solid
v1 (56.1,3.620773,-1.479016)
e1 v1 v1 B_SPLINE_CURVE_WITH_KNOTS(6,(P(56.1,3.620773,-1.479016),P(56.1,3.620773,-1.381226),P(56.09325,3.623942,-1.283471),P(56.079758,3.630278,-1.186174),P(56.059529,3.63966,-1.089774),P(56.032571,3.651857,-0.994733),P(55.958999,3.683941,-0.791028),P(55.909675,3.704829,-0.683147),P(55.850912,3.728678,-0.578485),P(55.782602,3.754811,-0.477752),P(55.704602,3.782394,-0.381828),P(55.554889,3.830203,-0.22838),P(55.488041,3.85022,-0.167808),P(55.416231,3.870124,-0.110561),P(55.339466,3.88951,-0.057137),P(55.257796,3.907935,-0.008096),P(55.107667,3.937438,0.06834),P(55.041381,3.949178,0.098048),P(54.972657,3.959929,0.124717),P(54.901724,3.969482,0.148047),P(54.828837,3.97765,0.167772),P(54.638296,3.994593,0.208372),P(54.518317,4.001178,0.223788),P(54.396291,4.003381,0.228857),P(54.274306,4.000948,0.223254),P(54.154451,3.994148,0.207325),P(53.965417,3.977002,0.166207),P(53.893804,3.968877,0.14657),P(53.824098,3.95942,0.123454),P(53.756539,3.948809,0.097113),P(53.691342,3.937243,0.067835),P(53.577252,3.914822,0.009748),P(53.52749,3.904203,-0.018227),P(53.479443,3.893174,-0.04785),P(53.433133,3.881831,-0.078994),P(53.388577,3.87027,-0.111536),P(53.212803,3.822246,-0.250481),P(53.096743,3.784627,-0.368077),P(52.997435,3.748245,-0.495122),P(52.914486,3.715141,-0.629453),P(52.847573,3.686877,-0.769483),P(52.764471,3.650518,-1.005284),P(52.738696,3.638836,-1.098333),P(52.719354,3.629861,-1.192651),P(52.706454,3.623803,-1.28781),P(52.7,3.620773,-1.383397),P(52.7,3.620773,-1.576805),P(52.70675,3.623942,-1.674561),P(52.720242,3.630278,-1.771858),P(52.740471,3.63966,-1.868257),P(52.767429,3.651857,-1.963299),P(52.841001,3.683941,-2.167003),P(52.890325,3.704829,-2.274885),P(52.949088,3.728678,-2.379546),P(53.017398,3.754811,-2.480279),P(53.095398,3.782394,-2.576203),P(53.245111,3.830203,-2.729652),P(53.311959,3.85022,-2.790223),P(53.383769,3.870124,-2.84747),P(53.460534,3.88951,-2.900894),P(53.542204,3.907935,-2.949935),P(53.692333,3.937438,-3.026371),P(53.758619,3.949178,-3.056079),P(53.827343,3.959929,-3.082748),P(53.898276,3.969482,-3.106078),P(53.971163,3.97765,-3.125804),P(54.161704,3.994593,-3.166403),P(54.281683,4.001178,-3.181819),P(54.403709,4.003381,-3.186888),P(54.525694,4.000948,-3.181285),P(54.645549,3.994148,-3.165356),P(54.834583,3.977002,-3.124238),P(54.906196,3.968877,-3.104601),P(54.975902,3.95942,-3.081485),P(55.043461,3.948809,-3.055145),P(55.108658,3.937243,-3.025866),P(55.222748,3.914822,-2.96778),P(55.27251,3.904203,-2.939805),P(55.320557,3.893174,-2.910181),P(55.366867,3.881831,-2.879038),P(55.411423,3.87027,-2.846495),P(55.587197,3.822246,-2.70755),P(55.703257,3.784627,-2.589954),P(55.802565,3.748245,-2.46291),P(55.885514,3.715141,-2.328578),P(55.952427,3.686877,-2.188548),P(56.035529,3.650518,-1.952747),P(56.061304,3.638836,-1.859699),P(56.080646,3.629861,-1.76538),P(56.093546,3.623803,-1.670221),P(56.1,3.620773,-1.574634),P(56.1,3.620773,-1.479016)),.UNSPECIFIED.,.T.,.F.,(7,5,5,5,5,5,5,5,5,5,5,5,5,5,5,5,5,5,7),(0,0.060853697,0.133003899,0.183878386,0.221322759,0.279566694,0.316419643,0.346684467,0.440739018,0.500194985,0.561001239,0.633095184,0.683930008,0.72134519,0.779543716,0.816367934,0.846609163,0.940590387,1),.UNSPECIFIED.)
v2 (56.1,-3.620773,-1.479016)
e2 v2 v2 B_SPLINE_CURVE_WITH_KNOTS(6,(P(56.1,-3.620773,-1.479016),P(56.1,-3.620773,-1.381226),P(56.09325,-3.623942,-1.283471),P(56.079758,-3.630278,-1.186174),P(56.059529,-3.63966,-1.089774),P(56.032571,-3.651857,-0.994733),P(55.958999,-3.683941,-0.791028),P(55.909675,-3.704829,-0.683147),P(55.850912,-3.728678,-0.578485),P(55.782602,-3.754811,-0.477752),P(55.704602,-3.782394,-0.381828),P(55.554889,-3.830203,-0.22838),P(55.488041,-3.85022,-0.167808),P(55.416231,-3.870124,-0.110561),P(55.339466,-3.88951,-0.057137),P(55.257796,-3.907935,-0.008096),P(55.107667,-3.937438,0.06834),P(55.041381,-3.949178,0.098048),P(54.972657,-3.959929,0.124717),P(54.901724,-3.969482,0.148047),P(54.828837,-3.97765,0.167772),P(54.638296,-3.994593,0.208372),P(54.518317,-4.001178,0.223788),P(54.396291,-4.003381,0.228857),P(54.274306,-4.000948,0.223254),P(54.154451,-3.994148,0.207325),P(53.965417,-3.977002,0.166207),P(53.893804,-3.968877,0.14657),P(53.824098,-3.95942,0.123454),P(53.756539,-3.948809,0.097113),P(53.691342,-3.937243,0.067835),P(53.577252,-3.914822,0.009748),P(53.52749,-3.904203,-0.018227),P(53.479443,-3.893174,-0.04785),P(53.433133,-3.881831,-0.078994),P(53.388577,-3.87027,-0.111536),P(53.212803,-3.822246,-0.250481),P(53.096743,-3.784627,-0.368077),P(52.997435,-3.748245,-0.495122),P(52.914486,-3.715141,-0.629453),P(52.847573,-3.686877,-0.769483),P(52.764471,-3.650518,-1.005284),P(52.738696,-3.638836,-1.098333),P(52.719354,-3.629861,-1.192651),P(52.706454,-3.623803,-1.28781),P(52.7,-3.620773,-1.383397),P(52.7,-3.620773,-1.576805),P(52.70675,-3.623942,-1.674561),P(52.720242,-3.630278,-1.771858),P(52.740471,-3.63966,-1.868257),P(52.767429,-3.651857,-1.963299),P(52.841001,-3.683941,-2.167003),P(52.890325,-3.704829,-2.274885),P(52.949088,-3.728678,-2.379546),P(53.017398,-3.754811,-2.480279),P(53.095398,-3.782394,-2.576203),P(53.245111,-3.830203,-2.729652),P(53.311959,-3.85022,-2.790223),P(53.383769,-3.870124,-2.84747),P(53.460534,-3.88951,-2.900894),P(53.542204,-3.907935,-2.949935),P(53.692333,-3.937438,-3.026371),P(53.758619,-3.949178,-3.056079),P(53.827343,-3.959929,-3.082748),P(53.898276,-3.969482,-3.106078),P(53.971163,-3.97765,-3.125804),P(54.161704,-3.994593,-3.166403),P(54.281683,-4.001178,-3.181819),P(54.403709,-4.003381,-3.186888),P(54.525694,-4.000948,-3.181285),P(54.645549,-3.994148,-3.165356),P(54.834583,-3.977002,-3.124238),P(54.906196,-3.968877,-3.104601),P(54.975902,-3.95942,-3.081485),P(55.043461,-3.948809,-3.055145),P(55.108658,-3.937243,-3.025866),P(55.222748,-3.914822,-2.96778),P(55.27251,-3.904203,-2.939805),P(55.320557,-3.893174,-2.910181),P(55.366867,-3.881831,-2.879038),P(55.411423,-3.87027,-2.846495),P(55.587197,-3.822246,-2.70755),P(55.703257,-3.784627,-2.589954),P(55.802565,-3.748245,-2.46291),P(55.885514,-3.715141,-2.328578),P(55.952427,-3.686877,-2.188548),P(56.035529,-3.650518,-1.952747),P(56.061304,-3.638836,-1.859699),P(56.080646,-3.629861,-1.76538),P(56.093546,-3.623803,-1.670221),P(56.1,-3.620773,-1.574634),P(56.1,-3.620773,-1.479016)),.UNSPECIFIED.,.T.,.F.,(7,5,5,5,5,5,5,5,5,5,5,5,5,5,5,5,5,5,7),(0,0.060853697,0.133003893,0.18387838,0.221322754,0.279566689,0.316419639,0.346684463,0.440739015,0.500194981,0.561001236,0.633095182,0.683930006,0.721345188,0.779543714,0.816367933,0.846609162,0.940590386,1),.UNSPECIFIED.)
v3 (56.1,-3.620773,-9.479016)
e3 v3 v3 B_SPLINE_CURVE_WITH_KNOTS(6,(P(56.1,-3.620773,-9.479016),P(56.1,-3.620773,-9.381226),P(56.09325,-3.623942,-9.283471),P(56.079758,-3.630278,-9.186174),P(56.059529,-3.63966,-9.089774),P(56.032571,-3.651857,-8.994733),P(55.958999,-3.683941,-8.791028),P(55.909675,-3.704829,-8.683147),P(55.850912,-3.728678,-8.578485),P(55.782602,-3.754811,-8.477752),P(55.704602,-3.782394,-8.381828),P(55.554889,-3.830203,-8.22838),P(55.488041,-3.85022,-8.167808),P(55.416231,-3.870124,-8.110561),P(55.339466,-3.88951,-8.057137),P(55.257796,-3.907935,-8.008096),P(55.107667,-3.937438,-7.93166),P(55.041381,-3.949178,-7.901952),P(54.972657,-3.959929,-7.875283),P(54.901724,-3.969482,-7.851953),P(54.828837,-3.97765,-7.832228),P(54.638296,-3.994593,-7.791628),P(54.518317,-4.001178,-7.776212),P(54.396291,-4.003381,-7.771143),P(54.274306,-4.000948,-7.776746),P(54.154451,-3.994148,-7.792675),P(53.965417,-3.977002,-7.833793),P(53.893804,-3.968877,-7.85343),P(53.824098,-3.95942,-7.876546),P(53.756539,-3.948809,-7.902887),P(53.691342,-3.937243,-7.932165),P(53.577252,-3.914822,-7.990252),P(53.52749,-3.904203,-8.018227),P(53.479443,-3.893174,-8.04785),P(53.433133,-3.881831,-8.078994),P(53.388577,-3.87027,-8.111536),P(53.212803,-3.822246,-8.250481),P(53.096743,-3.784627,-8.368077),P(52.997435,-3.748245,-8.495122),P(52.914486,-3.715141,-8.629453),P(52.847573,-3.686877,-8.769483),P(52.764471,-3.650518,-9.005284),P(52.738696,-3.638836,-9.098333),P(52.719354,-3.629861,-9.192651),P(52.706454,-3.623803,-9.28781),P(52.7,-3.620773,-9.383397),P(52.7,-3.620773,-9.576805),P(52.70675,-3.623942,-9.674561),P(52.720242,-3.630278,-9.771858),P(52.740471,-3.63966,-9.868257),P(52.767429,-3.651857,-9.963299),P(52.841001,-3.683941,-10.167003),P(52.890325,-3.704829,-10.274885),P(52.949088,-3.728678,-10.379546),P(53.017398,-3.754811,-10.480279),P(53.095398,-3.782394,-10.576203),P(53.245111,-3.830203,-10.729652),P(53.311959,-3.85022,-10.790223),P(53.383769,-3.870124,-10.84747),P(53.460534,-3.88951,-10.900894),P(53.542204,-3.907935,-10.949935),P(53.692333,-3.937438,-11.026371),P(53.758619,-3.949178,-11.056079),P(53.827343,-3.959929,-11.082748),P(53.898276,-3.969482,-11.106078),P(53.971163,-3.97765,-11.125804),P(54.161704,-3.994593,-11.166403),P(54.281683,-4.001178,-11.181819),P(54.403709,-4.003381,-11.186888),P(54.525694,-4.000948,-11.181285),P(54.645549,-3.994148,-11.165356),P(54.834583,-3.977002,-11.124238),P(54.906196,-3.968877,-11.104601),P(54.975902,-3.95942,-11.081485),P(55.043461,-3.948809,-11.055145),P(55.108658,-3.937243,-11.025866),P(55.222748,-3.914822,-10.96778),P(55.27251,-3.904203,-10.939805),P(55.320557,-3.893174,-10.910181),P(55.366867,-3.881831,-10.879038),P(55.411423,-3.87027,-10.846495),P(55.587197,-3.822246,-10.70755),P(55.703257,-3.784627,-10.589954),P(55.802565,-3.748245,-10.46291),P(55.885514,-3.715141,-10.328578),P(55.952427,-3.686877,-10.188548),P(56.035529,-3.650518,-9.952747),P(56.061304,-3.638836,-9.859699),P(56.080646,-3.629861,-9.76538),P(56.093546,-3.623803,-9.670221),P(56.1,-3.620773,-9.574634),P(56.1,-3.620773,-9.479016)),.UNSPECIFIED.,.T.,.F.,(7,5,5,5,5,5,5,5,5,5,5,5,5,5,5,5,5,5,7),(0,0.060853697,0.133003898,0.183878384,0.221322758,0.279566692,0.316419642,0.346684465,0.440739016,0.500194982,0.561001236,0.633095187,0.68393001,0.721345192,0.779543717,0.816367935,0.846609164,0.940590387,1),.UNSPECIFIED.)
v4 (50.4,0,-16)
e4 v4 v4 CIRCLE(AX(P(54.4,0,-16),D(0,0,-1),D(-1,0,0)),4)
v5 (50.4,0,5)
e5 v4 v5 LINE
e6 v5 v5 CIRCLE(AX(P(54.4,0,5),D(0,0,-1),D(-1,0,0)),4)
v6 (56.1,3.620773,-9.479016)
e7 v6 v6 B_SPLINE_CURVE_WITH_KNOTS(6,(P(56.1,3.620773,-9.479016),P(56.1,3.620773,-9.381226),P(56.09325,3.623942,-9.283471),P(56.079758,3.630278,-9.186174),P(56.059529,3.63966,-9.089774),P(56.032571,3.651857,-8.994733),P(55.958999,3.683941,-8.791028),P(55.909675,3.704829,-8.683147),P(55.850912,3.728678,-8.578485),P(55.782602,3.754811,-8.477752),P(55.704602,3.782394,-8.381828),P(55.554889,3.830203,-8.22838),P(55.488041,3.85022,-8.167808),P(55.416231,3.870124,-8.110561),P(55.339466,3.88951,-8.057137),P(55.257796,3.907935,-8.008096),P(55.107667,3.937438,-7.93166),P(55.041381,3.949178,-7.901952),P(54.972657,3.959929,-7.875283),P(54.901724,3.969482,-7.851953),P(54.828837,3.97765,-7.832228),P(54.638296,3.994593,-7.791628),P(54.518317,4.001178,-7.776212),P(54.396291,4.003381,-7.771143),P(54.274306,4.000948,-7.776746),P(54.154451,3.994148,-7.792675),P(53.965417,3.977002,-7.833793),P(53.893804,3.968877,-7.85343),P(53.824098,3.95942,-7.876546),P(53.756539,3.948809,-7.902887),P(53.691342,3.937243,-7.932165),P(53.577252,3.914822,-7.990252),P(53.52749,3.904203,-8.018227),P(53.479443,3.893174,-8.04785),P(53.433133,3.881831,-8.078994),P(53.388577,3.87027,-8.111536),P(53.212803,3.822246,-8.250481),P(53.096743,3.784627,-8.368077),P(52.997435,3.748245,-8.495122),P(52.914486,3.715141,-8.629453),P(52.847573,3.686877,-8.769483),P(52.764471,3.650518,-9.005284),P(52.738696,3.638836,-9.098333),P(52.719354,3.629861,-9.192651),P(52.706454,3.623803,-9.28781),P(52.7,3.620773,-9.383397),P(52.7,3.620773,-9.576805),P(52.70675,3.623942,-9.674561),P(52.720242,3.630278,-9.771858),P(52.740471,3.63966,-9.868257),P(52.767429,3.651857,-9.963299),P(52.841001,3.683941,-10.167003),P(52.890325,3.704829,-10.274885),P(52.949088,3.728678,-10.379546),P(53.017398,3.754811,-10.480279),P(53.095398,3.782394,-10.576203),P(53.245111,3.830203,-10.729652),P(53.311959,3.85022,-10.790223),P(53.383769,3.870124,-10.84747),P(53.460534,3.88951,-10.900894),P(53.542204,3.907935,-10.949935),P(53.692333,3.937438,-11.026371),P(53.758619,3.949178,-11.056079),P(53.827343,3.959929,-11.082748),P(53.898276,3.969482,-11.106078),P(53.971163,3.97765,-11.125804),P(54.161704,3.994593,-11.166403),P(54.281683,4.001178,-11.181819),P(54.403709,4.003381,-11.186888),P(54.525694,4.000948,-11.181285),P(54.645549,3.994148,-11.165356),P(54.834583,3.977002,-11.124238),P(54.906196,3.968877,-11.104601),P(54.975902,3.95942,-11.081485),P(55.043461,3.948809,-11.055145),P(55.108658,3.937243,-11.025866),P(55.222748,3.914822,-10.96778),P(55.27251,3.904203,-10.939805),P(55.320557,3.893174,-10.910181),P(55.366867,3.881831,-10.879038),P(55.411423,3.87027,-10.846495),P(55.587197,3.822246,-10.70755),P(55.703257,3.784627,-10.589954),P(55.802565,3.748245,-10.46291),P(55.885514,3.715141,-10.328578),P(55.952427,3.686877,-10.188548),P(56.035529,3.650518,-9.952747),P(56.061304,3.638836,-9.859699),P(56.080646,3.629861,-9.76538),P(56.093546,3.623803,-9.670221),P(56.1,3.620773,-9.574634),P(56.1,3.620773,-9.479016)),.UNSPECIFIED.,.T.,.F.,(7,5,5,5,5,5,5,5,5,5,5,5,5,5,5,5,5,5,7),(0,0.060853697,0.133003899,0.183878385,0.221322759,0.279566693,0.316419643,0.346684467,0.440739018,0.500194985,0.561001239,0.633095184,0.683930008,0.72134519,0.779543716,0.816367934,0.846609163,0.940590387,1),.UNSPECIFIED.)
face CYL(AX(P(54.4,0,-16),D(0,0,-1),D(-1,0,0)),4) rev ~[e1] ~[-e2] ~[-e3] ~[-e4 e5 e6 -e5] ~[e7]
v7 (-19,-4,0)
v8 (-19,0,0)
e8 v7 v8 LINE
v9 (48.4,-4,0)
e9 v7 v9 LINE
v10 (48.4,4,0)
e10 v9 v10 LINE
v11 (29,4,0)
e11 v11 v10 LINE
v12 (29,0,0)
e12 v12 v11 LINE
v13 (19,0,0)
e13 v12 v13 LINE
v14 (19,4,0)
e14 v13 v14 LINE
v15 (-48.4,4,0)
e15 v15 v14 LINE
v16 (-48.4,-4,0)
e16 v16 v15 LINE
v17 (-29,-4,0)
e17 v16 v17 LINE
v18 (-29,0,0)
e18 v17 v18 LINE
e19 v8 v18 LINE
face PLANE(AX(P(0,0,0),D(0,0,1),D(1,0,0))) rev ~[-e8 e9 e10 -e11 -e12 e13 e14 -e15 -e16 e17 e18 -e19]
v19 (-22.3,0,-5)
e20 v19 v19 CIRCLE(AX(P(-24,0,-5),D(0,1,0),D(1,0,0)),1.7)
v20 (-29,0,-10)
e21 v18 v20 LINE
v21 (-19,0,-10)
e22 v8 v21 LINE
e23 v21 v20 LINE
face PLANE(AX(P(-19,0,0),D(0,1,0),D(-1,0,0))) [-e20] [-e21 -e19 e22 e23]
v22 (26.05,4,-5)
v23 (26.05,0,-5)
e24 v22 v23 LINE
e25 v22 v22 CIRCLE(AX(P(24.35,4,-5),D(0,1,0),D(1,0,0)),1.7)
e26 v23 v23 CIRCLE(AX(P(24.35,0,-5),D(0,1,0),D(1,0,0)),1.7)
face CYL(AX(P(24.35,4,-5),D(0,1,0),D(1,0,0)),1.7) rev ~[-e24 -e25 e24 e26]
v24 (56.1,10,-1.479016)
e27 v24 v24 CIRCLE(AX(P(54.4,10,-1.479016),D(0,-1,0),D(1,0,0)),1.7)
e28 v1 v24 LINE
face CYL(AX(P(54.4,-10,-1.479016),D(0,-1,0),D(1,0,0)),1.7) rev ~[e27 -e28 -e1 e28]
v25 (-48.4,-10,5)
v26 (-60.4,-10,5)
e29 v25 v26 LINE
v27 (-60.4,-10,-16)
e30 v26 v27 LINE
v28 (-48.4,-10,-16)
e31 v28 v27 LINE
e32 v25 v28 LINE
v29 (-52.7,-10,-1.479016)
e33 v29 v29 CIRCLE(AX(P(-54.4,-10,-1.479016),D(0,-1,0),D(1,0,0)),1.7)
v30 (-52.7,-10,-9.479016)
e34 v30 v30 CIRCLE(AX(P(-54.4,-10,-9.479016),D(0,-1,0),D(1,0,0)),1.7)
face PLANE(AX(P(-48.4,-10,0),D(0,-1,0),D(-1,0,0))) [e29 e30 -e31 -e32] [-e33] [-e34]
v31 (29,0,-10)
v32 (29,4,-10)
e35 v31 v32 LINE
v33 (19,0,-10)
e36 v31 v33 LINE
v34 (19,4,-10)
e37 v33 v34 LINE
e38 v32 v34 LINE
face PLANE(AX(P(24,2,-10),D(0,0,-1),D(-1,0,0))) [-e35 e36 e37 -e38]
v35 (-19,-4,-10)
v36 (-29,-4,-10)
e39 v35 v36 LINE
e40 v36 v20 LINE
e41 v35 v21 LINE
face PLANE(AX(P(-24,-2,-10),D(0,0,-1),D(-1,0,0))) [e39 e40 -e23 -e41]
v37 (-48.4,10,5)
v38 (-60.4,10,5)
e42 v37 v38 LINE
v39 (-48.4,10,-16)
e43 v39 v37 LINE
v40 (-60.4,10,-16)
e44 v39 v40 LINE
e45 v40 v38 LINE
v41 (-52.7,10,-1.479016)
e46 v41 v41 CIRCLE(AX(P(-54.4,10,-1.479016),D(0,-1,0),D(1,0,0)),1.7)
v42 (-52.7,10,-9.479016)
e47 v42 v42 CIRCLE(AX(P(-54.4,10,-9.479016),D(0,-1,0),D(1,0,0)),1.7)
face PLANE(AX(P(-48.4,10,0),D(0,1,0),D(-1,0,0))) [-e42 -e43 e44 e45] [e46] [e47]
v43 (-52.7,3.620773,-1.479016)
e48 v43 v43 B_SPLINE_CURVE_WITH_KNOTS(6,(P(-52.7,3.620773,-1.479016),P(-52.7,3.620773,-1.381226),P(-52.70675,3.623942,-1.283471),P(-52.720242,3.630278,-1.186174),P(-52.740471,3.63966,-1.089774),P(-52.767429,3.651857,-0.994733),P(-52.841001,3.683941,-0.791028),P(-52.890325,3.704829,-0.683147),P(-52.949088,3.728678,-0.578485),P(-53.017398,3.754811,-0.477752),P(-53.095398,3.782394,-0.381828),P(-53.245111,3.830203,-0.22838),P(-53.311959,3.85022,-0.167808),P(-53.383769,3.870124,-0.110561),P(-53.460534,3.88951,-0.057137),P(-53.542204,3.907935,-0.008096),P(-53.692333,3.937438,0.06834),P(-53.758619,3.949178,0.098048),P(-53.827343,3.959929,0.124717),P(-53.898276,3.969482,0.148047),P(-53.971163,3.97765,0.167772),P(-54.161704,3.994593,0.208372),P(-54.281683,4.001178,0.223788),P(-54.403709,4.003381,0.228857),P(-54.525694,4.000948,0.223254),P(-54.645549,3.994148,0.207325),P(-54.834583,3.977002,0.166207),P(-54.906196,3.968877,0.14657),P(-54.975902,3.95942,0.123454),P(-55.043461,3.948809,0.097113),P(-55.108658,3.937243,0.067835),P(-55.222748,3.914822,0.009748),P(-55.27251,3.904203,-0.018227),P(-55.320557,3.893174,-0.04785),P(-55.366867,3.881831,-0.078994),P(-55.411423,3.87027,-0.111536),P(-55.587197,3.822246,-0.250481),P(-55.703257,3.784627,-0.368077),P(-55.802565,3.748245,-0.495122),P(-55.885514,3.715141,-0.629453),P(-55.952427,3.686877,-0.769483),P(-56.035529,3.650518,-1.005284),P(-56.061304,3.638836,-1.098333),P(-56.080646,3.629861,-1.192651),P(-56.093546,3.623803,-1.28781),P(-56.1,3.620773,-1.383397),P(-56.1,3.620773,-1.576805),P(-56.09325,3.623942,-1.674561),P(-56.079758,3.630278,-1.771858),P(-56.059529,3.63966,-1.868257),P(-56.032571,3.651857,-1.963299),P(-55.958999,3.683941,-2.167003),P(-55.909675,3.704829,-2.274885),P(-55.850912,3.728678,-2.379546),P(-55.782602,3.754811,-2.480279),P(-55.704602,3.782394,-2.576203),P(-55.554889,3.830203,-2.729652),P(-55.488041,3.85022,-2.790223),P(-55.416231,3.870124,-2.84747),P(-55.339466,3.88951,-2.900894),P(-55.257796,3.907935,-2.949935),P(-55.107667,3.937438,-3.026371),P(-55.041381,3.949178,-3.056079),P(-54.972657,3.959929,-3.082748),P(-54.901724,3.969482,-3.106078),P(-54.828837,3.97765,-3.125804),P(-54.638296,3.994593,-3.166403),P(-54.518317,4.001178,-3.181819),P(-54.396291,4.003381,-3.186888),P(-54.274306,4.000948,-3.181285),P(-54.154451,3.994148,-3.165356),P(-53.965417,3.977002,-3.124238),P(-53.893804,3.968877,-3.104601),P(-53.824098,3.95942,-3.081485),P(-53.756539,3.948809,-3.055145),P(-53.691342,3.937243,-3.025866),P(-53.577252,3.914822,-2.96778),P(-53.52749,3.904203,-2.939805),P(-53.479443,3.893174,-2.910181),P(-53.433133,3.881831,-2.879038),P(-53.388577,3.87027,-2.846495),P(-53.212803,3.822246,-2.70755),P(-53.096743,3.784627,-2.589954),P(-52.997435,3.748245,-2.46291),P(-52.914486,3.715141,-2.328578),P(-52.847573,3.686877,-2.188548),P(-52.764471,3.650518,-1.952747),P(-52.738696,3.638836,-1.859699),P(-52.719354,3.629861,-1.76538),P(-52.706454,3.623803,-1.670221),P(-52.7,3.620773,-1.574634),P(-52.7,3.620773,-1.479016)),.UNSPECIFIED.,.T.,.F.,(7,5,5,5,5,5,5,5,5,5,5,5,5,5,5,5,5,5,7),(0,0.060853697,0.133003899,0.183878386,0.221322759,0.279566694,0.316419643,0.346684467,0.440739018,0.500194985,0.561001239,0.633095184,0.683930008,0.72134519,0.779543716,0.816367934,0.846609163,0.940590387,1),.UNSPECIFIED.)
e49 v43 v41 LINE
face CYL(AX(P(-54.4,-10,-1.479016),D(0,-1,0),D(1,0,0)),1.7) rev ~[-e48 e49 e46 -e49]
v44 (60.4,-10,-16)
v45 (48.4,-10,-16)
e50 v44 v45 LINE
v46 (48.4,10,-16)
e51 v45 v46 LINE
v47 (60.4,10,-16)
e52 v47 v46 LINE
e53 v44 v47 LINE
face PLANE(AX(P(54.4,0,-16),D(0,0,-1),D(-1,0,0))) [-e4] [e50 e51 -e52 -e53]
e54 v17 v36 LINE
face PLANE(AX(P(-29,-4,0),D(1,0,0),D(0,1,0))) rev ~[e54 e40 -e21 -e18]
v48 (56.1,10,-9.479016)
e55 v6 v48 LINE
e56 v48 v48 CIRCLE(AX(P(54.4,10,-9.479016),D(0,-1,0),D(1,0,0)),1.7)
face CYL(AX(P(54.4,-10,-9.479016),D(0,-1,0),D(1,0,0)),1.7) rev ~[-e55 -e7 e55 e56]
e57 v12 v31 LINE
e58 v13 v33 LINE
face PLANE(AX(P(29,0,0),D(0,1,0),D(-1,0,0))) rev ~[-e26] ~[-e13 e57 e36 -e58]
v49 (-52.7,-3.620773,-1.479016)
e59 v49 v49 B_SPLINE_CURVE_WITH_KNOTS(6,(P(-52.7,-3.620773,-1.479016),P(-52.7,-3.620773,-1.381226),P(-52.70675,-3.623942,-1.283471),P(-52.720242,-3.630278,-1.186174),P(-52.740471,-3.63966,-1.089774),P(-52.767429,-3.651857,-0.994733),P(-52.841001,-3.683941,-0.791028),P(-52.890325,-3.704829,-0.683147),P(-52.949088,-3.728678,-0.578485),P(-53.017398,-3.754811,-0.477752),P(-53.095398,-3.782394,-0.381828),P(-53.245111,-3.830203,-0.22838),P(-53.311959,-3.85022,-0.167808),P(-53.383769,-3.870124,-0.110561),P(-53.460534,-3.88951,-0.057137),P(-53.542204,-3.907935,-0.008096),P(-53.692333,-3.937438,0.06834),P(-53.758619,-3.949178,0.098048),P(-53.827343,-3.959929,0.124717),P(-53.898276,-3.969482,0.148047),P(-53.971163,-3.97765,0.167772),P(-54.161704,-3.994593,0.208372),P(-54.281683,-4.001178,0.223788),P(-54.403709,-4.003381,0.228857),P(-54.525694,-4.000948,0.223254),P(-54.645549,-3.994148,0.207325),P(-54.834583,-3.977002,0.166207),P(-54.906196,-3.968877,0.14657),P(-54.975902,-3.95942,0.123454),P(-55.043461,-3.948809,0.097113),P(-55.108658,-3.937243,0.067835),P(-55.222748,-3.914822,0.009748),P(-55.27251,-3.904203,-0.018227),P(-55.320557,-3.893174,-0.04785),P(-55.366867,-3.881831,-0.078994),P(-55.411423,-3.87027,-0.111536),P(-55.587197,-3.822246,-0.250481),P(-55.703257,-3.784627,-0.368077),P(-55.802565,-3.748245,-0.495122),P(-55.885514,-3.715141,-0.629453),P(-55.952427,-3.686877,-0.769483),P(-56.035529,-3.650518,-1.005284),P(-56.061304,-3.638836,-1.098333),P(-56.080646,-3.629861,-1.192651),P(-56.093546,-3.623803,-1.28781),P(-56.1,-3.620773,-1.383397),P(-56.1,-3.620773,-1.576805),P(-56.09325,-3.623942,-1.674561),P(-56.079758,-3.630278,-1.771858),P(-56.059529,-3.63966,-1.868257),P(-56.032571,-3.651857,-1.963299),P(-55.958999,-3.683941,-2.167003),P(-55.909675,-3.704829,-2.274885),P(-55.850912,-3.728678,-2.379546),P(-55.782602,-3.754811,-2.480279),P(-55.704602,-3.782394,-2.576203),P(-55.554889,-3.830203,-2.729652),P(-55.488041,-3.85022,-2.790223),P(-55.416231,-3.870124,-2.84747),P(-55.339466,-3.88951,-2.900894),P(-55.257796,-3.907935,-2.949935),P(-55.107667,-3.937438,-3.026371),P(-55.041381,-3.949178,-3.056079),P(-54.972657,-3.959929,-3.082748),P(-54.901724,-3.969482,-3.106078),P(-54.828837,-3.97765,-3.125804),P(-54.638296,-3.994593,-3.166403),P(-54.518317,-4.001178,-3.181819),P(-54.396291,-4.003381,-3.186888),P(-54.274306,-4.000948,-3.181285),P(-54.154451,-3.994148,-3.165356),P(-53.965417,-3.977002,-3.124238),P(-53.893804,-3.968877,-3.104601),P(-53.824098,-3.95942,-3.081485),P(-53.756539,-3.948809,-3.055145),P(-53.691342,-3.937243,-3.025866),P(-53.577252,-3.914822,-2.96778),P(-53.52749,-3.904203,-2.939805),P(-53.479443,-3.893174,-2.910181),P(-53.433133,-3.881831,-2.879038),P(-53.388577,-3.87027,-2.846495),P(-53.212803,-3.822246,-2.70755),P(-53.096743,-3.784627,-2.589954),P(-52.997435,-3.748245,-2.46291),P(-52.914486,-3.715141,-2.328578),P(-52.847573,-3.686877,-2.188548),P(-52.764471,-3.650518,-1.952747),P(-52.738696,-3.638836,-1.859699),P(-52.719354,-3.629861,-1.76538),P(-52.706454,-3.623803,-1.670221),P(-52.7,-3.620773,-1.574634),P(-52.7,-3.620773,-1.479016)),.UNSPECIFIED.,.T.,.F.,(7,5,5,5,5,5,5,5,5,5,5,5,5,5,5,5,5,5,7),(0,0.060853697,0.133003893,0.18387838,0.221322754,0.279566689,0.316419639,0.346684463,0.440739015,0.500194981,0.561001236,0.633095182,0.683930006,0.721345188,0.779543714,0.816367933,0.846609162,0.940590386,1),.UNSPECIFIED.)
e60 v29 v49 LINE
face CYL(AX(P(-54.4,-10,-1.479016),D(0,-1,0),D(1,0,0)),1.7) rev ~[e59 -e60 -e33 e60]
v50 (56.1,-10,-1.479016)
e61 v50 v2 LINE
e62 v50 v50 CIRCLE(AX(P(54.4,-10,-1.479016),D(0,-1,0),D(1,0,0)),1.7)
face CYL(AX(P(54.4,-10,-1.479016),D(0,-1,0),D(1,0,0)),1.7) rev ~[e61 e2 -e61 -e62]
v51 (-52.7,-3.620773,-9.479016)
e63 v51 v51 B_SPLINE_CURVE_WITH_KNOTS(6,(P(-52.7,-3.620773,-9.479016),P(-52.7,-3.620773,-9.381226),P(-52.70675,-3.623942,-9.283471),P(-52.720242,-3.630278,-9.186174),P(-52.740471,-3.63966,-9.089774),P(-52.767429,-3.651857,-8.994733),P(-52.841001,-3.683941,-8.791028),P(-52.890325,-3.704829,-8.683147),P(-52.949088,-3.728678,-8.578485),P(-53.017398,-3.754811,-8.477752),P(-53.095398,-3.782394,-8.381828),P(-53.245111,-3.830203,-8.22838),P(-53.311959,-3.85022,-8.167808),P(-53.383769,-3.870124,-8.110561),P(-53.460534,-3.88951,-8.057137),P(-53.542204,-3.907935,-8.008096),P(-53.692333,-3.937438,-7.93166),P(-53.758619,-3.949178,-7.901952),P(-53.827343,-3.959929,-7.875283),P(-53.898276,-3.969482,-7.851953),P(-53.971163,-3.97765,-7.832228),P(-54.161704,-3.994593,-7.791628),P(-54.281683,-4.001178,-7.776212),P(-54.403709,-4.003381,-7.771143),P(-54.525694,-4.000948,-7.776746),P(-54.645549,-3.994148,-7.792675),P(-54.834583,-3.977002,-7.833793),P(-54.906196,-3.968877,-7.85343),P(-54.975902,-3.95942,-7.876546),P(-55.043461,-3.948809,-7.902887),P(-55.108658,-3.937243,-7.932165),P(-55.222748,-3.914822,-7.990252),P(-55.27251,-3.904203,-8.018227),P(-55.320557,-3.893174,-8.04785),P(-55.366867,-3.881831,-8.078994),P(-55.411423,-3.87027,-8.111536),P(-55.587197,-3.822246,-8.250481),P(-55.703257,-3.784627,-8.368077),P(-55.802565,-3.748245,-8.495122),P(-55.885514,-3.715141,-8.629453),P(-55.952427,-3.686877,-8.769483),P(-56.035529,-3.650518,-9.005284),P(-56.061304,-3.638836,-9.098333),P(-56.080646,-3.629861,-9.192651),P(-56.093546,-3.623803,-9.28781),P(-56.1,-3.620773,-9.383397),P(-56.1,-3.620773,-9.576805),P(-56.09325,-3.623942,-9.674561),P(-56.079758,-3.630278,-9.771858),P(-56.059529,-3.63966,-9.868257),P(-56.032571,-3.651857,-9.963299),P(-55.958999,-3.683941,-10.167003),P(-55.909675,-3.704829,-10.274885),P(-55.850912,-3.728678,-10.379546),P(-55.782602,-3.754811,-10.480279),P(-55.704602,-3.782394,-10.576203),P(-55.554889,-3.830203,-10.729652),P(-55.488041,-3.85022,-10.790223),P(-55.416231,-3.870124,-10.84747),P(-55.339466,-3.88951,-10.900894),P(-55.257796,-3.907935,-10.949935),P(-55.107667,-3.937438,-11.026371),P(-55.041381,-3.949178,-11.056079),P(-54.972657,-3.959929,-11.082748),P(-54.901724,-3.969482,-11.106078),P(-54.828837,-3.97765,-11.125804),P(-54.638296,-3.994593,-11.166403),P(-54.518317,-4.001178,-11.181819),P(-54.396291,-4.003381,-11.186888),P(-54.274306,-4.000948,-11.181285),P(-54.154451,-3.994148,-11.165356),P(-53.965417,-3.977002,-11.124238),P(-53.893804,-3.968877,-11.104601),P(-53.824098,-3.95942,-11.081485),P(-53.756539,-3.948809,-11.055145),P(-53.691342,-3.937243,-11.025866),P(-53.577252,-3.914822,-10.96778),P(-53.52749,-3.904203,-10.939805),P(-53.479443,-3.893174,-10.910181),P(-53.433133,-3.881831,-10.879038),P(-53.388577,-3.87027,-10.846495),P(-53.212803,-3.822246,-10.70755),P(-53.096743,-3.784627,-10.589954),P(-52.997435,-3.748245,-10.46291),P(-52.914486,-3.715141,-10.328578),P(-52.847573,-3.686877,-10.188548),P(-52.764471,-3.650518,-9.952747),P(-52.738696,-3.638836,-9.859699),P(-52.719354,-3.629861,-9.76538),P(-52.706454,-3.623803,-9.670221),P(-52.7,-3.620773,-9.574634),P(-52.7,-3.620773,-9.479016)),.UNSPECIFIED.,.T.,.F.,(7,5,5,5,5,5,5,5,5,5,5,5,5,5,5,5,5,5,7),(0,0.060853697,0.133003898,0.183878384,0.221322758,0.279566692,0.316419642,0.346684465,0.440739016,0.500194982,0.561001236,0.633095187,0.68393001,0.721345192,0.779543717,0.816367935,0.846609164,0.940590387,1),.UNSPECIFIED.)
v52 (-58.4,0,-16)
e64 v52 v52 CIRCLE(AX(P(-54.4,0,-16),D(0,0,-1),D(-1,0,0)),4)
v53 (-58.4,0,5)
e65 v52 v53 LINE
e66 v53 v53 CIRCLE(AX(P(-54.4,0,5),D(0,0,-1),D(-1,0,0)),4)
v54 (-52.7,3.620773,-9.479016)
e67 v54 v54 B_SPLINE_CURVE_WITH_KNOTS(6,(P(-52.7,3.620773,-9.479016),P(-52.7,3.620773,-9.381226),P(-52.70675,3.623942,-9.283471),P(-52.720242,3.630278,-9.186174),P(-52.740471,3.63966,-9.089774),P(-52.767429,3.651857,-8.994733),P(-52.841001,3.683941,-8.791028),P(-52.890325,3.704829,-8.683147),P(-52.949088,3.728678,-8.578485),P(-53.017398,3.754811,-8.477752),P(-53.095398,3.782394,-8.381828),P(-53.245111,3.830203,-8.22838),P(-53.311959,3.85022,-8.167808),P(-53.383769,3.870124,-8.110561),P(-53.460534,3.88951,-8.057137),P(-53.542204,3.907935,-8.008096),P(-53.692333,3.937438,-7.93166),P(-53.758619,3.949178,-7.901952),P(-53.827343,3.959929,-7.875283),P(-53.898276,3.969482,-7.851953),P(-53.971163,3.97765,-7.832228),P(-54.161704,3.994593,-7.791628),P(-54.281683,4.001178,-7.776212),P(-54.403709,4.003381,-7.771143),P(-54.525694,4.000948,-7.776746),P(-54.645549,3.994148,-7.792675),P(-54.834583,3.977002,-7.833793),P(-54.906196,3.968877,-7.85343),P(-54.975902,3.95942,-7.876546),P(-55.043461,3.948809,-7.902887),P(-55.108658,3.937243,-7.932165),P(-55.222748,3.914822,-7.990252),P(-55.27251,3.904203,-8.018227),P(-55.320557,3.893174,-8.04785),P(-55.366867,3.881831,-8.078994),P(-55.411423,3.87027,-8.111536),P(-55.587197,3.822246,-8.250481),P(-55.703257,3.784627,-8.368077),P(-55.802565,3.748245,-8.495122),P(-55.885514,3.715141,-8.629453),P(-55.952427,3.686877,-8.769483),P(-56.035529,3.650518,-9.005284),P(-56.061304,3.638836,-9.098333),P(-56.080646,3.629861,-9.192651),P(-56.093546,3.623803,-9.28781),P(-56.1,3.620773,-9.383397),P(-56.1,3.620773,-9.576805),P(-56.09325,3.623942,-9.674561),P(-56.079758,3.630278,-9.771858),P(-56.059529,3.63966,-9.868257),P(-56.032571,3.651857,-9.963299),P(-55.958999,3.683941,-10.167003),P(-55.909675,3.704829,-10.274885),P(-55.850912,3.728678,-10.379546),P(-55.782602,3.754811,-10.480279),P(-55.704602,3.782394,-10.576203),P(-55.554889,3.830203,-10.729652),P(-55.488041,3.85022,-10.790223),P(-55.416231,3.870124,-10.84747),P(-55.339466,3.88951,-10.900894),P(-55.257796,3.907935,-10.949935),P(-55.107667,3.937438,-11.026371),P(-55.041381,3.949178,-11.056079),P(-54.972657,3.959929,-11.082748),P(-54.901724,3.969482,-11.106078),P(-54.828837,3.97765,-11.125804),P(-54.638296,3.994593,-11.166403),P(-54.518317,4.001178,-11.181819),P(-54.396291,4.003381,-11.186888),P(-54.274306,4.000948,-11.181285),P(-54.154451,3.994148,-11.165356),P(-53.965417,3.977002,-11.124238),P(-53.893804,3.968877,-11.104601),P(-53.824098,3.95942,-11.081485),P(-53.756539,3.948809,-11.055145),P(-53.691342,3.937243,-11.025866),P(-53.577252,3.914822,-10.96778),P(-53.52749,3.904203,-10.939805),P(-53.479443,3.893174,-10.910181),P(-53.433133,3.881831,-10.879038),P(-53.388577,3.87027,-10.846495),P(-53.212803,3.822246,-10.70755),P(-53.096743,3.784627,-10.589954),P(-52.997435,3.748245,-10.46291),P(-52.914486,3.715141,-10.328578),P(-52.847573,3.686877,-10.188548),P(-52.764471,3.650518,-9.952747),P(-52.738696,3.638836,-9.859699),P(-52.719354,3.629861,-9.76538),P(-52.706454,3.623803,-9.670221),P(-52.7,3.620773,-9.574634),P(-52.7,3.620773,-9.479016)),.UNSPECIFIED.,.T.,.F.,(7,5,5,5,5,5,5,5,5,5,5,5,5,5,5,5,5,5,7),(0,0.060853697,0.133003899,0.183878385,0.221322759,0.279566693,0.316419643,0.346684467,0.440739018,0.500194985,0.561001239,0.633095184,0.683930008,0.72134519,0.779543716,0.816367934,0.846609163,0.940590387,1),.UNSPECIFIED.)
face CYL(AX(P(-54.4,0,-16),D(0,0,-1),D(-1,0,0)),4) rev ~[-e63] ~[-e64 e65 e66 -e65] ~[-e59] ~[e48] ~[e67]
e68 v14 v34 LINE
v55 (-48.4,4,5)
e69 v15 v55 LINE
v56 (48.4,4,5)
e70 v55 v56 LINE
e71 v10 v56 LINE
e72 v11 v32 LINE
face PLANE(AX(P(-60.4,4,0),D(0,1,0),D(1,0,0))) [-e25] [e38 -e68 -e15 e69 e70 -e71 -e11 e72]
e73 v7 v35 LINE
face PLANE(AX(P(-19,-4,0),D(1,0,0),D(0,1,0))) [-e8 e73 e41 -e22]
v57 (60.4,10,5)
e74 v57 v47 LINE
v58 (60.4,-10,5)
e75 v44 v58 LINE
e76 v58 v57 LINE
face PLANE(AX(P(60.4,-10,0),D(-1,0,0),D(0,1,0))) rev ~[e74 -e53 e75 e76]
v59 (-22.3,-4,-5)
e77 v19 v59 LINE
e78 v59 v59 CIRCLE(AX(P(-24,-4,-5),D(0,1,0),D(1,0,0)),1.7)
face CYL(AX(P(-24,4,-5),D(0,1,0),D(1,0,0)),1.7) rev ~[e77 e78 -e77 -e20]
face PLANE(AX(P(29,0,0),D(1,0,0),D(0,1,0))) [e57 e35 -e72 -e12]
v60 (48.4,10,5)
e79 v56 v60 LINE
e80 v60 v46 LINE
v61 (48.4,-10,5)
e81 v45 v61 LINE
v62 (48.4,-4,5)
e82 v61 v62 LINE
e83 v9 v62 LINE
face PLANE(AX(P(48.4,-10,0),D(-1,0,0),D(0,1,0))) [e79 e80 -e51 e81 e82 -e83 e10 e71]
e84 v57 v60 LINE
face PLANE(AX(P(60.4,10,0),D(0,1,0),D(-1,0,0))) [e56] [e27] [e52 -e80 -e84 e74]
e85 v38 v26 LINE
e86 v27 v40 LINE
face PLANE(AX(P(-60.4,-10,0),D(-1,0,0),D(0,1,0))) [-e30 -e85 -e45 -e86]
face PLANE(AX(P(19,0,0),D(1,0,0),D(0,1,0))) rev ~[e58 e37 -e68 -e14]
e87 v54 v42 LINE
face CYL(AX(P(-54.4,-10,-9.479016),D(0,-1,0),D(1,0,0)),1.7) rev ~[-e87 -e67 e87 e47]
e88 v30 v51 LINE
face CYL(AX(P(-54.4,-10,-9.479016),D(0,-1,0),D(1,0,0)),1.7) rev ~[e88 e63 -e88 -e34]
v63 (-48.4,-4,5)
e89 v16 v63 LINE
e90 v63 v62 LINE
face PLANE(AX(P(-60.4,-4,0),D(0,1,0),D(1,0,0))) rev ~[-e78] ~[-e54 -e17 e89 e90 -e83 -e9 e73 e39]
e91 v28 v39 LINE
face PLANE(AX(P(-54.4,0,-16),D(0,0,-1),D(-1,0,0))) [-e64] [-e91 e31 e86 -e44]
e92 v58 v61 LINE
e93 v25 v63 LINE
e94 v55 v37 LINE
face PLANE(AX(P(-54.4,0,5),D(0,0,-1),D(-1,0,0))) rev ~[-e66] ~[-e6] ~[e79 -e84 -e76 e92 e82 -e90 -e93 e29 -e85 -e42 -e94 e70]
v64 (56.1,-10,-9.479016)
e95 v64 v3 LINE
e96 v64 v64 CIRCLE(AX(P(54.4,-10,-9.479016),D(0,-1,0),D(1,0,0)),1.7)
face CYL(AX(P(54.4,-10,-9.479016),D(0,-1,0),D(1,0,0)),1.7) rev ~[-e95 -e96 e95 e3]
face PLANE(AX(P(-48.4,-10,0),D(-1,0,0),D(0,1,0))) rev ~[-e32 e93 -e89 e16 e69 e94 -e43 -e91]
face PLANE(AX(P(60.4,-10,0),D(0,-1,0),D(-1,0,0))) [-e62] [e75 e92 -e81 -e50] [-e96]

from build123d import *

# Parameters (mm, degrees)
ESQUISSE1_W             = 120.8
ESQUISSE1_H             = 8
BOSS_EXTRU_1_DEPTH      = 5
ESQUISSE2_W             = 10
ESQUISSE2_H             = 4
BOSS_EXTRU_2_DEPTH      = 10
ESQUISSE3_R             = 1.7
ENL_V_MAT_EXTRU_1_DEPTH = 10
ESQUISSE4_W             = 12
ESQUISSE4_H             = 20
BOSS_EXTRU_3_DEPTH      = 16
BOSS_EXTRU_3_DEPTH_BACK = 5
ESQUISSE5_R             = 4
ENL_V_MAT_EXTRU_2_DEPTH = 24
ESQUISSE6_R             = 1.7
ENL_V_MAT_EXTRU_3_DEPTH = 24


with BuildPart() as part:
    # Esquisse1 → Boss.-Extru.1 (new body)
    with BuildSketch(Plane.XY):
        Rectangle(ESQUISSE1_W, ESQUISSE1_H)
    extrude(amount=BOSS_EXTRU_1_DEPTH)

    # Esquisse2 → Boss.-Extru.2 (add)
    with BuildSketch(Plane(origin=(0, 0, 0), x_dir=(-1, 0, 0), z_dir=(0, 0, -1))):
        with Locations((24, -2)):
            Rectangle(ESQUISSE2_W, ESQUISSE2_H)
        with Locations((-24, 2)):
            Rectangle(ESQUISSE2_W, ESQUISSE2_H)
    extrude(amount=BOSS_EXTRU_2_DEPTH)

    # Esquisse3 → Enlèv. mat.-Extru.1 (cut)
    with BuildSketch(Plane(origin=(0, 4, 0), x_dir=(1, 0, 0), z_dir=(0, 1, 0))):
        with Locations((-24, 5)):
            Circle(ESQUISSE3_R)
        with Locations((24.35, 5)):
            Circle(ESQUISSE3_R)
    extrude(amount=-ENL_V_MAT_EXTRU_1_DEPTH, mode=Mode.SUBTRACT)

    # Esquisse4 → Boss.-Extru.3 (add, two sides)
    with BuildSketch(Plane(origin=(0, 0, 0), x_dir=(-1, 0, 0), z_dir=(0, 0, -1))) as boss_extru_3_sk:
        with Locations((54.4, 0)):
            Rectangle(ESQUISSE4_W, ESQUISSE4_H)
        with Locations((-54.4, 0)):
            Rectangle(ESQUISSE4_W, ESQUISSE4_H)
    extrude(amount=BOSS_EXTRU_3_DEPTH)
    extrude(boss_extru_3_sk.sketch, amount=-BOSS_EXTRU_3_DEPTH_BACK)

    # Esquisse5 → Enlèv. mat.-Extru.2 (cut)
    with BuildSketch(Plane(origin=(0, 0, -16), x_dir=(-1, 0, 0), z_dir=(0, 0, -1))):
        with Locations((54.4, 0)):
            Circle(ESQUISSE5_R)
        with Locations((-54.4, 0)):
            Circle(ESQUISSE5_R)
    extrude(amount=-ENL_V_MAT_EXTRU_2_DEPTH, mode=Mode.SUBTRACT)

    # Esquisse6 → Enlèv. mat.-Extru.3 (cut)
    with BuildSketch(Plane.XZ.offset(10)):
        with Locations((54.4, -9.479015636)):
            Circle(ESQUISSE6_R)
        with Locations((54.4, -1.479015636)):
            Circle(ESQUISSE6_R)
        with Locations((-54.4, -1.479015636)):
            Circle(ESQUISSE6_R)
        with Locations((-54.4, -9.479015636)):
            Circle(ESQUISSE6_R)
    extrude(amount=-ENL_V_MAT_EXTRU_3_DEPTH, mode=Mode.SUBTRACT)


solid = part.part
